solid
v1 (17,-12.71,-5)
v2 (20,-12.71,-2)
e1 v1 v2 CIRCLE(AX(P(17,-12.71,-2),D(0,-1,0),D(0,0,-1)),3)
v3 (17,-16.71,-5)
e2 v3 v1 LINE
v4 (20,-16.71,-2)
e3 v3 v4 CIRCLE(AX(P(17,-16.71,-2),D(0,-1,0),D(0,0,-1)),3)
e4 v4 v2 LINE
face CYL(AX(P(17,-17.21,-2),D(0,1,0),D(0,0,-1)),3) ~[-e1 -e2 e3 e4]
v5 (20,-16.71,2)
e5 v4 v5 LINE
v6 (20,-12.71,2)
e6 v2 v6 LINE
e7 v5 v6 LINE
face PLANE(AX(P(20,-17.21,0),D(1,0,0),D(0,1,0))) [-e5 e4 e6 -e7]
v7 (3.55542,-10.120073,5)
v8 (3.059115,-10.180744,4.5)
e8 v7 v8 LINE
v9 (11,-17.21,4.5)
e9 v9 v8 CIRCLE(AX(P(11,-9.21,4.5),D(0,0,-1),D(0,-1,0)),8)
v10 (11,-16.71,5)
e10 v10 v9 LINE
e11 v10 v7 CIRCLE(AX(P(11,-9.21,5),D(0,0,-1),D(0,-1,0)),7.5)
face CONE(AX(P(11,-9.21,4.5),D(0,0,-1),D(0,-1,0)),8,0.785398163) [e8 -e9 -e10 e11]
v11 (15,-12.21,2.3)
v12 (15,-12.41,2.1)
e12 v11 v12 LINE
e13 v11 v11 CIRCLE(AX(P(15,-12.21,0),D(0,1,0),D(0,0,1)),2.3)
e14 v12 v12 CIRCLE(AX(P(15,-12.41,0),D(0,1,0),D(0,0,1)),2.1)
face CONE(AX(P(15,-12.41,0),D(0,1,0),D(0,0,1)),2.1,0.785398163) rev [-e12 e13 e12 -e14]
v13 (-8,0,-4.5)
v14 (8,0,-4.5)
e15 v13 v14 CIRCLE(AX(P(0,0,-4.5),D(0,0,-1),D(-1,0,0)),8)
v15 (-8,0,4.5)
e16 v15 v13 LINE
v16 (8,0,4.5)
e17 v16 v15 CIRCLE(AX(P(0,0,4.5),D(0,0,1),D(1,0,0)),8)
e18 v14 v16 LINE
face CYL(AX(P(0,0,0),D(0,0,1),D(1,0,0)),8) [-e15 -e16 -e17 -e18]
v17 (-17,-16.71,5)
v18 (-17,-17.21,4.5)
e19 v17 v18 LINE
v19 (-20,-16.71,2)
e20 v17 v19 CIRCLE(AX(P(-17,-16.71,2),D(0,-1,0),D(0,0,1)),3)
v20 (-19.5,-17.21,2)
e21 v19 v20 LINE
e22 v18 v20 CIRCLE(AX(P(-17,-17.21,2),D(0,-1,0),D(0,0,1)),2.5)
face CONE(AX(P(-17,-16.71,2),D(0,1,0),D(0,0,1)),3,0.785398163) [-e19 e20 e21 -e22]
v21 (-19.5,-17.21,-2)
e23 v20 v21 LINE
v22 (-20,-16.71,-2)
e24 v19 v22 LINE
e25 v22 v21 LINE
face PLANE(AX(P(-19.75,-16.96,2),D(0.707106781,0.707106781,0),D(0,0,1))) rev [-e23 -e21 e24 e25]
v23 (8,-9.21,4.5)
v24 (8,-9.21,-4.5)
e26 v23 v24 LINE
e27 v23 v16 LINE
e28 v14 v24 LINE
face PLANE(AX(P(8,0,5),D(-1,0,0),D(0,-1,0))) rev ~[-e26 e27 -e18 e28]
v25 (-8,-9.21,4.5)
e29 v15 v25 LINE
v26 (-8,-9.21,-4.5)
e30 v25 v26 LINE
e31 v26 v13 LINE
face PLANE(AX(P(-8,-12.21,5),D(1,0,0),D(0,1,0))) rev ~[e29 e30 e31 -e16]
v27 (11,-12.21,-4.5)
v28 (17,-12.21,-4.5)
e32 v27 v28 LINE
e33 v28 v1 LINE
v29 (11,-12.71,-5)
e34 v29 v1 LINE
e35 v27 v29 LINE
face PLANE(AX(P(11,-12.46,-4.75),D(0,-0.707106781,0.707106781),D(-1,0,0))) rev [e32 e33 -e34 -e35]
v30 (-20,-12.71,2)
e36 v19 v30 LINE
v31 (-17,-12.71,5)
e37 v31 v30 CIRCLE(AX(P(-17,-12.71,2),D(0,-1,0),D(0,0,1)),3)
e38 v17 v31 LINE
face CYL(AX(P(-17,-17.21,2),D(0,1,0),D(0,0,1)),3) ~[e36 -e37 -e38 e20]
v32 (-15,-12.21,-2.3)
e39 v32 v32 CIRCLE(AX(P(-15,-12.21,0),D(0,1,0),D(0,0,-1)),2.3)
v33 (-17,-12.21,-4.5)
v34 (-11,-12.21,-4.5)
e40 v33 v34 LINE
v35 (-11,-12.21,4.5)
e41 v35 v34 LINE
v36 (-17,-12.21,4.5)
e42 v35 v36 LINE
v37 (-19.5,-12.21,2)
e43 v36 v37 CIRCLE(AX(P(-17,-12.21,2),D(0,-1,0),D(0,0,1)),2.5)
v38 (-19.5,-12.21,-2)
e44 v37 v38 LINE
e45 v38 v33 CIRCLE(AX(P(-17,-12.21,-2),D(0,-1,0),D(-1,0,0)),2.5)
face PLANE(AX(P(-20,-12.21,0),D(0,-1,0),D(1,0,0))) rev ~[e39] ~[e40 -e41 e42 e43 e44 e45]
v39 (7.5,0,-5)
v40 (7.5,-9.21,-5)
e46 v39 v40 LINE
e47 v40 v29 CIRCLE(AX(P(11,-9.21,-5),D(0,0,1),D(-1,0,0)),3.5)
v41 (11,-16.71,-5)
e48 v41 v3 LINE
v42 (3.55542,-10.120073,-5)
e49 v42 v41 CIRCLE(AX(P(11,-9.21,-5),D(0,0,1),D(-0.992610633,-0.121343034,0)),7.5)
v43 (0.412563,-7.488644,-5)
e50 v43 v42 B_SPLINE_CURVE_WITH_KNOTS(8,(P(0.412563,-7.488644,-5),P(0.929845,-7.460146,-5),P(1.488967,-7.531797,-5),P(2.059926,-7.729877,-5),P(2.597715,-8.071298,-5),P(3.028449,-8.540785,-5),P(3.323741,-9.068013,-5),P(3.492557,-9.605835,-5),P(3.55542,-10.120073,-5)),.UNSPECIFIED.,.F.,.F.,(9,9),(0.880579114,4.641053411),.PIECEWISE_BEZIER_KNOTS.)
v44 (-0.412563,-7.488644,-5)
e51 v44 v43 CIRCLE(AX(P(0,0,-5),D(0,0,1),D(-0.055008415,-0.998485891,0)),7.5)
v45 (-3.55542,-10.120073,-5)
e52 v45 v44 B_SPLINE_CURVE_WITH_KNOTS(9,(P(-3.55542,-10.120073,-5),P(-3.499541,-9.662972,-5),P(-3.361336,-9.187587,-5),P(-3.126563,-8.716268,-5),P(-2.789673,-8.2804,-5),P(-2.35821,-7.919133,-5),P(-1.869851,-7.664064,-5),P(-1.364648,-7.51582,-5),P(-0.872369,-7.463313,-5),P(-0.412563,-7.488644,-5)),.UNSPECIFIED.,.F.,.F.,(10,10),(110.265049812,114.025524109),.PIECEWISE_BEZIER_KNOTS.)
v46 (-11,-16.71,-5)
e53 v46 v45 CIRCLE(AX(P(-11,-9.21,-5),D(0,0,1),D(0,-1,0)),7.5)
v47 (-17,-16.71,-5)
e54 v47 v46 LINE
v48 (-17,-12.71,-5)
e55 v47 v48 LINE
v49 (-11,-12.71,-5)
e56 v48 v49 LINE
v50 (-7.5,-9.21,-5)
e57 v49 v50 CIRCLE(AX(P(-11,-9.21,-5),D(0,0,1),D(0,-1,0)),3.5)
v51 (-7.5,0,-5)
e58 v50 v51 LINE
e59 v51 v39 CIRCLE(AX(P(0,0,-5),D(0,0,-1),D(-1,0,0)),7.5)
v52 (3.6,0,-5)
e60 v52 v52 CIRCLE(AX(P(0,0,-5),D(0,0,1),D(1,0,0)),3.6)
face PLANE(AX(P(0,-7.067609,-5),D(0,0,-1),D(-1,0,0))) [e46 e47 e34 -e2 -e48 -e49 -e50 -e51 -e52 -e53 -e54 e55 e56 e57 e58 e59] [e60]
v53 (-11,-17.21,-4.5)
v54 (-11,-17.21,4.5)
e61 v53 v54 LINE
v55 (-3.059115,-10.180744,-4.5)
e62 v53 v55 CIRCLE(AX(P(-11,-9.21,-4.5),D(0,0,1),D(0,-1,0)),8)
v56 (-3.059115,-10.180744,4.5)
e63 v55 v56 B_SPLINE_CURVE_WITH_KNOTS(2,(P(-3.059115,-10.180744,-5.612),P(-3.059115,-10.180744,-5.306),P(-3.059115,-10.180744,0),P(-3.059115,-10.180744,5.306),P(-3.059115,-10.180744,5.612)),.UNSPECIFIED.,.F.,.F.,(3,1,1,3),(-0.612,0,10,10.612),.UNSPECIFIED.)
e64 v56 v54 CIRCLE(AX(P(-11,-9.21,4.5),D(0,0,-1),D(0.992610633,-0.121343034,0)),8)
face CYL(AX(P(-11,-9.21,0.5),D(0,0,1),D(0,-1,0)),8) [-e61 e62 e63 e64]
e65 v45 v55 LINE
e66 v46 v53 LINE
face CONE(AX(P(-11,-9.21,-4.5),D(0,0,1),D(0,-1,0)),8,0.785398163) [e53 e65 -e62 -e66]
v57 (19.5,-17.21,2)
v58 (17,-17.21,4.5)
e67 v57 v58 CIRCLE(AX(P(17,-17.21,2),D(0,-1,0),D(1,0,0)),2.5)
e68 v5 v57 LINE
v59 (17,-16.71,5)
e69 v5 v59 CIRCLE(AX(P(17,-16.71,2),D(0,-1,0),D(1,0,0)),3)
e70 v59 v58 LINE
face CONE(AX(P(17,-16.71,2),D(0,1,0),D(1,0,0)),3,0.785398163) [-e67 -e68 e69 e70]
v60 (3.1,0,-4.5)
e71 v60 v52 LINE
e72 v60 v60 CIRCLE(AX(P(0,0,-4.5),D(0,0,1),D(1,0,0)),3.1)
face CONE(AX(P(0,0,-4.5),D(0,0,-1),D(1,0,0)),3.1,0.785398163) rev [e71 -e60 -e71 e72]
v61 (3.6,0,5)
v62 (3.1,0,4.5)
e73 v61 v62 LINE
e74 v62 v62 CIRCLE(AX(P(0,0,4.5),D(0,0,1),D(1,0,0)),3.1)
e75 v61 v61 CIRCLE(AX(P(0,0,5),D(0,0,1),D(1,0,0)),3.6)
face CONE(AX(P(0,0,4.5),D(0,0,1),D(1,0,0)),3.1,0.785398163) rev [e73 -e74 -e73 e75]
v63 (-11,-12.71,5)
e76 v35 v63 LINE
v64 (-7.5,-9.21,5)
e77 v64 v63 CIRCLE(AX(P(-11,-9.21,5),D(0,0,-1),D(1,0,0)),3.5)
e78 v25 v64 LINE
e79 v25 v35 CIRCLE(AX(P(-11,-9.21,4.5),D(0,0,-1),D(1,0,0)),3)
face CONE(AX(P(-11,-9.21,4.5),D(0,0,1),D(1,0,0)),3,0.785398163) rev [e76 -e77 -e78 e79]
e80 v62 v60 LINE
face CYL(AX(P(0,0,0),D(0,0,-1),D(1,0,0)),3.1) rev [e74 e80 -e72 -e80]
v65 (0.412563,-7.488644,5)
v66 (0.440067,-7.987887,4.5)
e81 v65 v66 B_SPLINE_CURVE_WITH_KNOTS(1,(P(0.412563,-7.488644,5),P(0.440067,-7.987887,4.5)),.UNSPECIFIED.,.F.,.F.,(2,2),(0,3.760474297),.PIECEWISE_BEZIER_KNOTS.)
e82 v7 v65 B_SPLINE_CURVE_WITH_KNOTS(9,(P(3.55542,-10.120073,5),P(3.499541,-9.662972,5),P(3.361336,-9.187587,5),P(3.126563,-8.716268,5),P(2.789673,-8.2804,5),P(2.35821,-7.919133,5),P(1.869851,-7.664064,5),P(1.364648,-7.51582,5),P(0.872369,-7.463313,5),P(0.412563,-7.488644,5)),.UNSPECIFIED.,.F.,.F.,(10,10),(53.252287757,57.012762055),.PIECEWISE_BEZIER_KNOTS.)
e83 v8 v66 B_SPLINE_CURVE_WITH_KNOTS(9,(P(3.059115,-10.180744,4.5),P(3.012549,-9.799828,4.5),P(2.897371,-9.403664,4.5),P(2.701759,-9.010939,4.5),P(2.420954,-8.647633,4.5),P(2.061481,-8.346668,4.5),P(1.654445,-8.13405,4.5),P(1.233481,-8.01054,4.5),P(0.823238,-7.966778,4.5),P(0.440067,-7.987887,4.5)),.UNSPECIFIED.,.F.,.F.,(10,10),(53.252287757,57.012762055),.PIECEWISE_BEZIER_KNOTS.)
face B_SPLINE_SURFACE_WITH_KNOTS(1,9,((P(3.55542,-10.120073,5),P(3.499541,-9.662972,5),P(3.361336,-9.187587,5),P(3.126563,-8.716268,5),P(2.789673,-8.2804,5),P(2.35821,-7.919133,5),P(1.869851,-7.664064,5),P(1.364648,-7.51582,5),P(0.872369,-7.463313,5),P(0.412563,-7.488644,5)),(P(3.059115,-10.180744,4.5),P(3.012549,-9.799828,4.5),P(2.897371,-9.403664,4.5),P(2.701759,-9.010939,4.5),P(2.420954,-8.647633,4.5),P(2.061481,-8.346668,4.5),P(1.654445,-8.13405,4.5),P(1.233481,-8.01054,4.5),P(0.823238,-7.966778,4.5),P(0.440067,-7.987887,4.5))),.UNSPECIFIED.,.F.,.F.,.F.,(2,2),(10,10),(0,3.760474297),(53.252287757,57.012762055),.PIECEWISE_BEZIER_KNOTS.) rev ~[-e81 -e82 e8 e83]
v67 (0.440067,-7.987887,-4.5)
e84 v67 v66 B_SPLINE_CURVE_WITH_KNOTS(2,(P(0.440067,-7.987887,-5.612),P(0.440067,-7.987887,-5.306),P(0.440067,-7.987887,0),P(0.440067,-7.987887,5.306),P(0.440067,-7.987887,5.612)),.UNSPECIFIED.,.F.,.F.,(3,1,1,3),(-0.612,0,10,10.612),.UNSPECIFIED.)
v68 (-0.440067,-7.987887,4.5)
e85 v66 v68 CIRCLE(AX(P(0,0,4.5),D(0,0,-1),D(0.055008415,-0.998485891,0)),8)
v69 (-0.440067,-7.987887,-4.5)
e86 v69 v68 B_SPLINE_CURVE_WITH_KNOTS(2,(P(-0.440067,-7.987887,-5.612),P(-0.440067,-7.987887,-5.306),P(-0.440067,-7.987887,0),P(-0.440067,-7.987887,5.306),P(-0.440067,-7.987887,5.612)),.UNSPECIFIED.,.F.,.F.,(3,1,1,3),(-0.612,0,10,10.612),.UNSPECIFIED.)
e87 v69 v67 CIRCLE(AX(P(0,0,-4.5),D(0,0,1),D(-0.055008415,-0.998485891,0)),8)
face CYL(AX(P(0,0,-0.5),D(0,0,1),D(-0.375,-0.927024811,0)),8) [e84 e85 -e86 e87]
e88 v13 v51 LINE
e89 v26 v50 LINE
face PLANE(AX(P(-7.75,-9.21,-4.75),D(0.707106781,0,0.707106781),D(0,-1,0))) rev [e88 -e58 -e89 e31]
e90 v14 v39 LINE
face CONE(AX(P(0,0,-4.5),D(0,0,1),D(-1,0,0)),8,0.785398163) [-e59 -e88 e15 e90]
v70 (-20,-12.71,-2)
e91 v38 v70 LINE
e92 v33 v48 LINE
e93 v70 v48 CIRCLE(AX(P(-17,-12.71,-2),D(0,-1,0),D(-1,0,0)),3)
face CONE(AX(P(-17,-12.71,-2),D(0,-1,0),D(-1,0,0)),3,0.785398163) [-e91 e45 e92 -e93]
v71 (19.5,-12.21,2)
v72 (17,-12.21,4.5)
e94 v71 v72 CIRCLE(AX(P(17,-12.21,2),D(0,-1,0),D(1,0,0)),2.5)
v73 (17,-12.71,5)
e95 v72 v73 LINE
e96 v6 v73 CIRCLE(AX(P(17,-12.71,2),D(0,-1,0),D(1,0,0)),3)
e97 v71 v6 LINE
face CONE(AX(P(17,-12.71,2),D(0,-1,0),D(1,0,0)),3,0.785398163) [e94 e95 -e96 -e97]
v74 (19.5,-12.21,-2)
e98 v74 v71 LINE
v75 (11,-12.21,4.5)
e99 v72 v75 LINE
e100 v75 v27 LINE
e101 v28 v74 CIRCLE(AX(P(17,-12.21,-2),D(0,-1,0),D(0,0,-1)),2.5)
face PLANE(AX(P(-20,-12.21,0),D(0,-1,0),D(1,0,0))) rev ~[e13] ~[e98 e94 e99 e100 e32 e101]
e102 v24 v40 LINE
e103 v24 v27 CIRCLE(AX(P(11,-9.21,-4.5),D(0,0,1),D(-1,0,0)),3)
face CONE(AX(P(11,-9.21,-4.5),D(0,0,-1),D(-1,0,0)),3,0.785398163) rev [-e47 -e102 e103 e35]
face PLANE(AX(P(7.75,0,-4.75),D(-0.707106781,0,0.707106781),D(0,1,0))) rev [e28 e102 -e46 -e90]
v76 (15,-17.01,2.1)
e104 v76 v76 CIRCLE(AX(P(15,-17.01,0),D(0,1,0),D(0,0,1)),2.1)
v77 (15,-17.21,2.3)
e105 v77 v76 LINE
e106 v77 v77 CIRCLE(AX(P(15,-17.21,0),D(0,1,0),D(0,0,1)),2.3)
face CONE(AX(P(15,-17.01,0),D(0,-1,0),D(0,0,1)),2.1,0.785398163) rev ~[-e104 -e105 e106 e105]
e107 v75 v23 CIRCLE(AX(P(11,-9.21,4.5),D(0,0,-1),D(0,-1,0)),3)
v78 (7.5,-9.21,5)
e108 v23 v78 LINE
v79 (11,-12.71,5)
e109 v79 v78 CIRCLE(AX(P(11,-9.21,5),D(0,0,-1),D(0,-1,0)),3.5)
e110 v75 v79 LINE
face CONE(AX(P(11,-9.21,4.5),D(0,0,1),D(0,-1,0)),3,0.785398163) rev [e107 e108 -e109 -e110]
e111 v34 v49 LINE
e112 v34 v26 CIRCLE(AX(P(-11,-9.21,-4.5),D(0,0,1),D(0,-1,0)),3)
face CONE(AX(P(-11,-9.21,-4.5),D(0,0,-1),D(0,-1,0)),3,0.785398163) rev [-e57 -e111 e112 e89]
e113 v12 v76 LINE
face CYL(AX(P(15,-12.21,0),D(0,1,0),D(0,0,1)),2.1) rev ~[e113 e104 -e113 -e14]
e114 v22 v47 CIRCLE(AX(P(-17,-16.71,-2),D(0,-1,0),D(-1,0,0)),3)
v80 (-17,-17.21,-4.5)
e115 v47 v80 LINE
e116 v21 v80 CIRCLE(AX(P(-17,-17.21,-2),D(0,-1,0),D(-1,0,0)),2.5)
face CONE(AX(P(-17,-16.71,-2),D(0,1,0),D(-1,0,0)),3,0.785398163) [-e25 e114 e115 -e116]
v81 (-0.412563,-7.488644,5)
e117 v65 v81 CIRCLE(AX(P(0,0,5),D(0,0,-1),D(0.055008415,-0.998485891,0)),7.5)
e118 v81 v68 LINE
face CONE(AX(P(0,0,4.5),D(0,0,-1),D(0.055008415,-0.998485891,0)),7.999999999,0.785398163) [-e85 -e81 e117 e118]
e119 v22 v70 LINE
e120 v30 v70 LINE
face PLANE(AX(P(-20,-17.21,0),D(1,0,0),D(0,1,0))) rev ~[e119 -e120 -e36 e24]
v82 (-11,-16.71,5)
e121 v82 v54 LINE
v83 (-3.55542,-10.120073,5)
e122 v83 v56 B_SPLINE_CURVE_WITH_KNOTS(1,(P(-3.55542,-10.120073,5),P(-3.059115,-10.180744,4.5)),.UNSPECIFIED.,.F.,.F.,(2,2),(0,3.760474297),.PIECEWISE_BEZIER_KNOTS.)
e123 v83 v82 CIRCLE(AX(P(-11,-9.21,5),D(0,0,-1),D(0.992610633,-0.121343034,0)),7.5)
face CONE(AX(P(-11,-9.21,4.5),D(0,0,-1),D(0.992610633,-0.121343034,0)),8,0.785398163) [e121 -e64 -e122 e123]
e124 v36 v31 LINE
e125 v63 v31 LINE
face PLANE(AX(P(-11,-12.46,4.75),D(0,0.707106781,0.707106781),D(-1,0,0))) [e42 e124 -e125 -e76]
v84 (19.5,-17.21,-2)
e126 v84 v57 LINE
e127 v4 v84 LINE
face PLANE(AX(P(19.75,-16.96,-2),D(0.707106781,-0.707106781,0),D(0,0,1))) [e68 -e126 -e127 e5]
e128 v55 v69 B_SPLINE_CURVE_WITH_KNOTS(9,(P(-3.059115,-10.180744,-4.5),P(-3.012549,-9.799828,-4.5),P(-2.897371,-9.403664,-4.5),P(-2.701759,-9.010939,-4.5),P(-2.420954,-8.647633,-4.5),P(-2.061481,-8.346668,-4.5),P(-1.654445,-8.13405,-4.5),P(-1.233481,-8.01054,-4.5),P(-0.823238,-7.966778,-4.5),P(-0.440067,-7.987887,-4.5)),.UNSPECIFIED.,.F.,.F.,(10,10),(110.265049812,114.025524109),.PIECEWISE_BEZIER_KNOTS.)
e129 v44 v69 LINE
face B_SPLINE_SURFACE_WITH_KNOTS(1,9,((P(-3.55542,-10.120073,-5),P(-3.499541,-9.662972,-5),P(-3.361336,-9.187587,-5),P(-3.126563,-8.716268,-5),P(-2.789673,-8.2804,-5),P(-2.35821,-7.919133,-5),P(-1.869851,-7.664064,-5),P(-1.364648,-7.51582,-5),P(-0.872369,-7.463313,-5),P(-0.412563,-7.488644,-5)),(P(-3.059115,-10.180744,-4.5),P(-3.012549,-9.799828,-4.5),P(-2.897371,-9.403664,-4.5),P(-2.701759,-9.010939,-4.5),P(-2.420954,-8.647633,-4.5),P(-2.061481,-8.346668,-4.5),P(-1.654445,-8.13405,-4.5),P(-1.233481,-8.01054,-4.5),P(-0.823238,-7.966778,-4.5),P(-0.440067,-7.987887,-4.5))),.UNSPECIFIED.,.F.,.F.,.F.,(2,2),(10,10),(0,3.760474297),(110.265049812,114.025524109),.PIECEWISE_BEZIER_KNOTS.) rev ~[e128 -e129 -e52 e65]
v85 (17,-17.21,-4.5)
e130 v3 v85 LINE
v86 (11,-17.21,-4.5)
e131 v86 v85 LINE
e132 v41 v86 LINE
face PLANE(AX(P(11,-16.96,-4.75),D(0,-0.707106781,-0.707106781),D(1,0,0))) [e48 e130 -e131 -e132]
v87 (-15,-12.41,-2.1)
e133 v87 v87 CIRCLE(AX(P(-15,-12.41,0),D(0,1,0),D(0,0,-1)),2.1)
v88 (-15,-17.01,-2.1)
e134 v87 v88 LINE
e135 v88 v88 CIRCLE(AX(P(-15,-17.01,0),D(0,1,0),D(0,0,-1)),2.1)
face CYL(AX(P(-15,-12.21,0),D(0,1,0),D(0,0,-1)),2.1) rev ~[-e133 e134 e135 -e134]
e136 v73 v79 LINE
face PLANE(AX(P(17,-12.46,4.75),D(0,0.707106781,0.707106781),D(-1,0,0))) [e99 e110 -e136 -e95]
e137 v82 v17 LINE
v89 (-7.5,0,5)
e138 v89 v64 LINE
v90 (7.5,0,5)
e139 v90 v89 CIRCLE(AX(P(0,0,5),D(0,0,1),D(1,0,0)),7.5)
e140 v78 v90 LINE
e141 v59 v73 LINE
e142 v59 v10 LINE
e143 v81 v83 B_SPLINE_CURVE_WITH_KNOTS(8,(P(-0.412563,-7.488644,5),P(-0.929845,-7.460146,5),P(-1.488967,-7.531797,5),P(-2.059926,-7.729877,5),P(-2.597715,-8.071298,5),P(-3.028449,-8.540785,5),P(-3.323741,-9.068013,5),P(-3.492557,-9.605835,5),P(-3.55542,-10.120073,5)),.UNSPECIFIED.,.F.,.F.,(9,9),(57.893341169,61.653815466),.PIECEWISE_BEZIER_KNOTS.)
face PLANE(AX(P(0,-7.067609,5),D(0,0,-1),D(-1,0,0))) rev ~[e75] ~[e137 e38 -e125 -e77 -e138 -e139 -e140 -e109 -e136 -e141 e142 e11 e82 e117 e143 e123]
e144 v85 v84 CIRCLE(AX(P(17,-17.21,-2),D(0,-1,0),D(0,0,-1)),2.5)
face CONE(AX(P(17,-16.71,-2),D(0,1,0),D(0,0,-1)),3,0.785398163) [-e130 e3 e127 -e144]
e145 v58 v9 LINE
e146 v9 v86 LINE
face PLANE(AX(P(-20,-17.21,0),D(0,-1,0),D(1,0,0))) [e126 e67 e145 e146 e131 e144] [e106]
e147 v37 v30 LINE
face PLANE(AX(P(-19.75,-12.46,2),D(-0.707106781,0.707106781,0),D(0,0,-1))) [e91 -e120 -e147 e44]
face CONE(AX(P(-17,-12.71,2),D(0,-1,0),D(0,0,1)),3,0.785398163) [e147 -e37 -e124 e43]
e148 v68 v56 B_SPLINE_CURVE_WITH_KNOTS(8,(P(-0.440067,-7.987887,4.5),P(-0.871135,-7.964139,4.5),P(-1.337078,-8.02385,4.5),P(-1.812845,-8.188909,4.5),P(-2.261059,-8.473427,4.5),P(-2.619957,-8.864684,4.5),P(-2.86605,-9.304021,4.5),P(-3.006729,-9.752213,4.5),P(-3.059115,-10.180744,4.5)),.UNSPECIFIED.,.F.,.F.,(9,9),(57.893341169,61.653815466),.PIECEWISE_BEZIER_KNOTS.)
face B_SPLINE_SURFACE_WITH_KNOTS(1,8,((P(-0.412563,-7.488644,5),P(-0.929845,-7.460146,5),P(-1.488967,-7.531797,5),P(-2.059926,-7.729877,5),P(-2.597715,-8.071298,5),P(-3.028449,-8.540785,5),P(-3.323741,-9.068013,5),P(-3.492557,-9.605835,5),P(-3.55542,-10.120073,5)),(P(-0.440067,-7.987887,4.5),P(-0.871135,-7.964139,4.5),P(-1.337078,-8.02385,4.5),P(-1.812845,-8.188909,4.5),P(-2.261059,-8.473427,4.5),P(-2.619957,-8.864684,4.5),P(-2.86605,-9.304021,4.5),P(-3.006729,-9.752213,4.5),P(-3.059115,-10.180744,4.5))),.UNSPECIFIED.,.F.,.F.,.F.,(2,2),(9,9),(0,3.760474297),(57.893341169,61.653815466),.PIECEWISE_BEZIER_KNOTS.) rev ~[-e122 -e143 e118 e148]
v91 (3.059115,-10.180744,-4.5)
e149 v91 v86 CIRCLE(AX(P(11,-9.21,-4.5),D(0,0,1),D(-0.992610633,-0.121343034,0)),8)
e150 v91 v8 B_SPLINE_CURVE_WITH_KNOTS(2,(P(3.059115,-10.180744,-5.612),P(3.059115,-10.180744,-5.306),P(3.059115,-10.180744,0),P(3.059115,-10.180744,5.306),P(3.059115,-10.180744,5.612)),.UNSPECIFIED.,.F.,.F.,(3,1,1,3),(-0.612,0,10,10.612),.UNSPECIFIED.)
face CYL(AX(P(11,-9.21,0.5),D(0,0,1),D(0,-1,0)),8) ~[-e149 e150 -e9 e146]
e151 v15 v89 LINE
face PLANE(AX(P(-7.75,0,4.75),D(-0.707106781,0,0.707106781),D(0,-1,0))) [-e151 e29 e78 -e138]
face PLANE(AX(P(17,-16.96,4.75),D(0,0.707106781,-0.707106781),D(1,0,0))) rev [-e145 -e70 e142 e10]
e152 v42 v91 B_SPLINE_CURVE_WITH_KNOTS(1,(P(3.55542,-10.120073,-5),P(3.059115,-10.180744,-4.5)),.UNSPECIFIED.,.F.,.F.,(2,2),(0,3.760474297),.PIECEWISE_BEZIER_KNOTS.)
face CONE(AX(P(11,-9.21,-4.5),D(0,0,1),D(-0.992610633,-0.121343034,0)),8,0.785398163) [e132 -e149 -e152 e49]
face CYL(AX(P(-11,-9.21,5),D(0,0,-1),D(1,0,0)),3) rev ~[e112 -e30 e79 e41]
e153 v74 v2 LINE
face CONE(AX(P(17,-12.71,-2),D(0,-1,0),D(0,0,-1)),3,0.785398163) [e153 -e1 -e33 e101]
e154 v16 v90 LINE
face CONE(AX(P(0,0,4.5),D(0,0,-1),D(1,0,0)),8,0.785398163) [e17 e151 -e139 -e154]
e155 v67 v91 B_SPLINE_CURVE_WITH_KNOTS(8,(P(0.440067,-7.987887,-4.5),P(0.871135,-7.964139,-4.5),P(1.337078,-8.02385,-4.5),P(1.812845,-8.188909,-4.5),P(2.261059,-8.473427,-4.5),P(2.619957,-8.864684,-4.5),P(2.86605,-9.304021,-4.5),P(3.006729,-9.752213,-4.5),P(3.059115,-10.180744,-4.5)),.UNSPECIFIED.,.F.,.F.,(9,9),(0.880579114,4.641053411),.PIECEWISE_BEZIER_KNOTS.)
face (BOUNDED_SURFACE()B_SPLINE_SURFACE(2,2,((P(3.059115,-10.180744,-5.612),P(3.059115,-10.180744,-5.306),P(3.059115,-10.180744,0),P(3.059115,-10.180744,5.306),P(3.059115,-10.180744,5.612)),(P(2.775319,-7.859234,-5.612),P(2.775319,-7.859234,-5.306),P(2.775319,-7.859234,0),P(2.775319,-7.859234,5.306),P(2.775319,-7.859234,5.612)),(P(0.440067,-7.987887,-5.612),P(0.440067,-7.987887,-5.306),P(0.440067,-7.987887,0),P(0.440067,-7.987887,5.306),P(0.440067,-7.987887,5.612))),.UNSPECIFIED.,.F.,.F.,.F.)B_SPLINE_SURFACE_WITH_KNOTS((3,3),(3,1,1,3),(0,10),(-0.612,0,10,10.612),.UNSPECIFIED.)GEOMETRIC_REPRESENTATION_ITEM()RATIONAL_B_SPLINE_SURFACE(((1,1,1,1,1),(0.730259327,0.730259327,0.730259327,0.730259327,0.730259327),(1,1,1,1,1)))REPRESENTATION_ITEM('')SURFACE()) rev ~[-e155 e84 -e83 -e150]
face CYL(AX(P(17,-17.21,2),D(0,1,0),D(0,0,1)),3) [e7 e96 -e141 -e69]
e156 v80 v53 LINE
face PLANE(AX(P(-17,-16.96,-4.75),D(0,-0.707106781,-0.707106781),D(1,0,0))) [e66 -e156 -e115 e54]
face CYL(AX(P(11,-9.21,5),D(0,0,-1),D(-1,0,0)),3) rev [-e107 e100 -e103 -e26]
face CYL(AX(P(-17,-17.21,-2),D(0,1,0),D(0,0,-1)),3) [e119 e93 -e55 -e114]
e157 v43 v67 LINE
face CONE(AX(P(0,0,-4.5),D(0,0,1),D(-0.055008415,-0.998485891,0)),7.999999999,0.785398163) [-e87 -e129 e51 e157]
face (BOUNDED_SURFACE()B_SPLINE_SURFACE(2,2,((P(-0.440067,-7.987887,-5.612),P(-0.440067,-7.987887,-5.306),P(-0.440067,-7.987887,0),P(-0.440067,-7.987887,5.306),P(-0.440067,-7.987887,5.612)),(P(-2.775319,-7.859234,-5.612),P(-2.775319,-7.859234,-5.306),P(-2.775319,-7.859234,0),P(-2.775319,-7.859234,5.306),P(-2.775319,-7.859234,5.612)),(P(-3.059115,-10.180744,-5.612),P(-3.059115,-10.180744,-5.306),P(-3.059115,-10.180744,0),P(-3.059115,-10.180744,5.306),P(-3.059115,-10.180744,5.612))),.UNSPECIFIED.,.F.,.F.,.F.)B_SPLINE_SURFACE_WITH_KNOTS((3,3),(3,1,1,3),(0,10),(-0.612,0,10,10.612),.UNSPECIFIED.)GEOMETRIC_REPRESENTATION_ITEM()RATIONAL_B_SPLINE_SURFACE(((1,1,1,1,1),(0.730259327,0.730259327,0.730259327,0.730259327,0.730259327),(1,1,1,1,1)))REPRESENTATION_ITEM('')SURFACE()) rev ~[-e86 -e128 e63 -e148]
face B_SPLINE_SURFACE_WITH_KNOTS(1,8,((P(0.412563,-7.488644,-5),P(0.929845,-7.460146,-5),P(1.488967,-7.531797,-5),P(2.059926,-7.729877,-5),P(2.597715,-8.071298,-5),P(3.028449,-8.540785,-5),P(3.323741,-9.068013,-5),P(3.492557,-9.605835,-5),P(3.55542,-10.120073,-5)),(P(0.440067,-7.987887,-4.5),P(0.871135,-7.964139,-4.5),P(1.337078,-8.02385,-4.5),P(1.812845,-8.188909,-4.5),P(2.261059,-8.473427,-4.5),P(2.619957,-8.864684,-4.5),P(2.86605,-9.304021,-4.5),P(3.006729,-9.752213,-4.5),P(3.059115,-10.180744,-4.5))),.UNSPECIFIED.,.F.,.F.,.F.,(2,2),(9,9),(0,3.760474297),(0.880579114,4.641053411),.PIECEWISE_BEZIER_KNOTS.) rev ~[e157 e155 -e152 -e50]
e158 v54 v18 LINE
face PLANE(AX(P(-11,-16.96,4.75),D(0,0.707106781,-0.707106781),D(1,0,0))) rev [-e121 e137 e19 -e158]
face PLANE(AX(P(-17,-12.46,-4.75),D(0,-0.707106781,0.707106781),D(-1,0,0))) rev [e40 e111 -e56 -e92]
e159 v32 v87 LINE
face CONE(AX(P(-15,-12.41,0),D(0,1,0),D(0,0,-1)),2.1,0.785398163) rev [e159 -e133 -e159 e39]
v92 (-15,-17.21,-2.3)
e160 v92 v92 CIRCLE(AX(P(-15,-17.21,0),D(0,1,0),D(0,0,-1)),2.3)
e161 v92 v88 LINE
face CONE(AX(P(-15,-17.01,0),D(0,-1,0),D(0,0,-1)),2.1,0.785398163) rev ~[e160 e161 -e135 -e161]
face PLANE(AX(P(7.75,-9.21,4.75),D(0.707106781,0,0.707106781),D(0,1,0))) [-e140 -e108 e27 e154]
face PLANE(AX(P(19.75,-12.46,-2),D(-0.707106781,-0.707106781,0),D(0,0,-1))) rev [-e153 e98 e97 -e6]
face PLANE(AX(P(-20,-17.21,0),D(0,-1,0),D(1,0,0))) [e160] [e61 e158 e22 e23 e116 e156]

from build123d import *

# Parameters (mm, degrees)
SKETCH_1_R        = 8
SKETCH_1_R_2      = 3.1
EXTRUDE_1_DEPTH   = 5
SKETCH_1_W        = 40
SKETCH_1_H        = 5
EXTRUDE_1_2_DEPTH = 5
CHAMFER_7_SIZE    = 0.5
EXTRUDE1_START    = -10
EXTRUDE1_DEPTH    = 10
FILLET1_R         = 3
EXTRUDE2_START    = -4.5
EXTRUDE2_DEPTH    = 4.5
FILLET2_R         = 8
SKETCH3_R         = 2.1
EXTRUDE3_DEPTH    = 29.869431931
CHAMFER2_SIZE     = 0.2
EXTRUDE4_DEPTH    = 27.952441448
FILLET3_R         = 2.5
FILLET4_R         = 3
CHAMFER4_SIZE     = 0.5


with BuildPart() as part:
    # 草图1 → 凸台-拉伸1 (new, symmetric)
    with BuildSketch(Plane.XY):
        Circle(SKETCH_1_R)
        Circle(SKETCH_1_R_2, mode=Mode.SUBTRACT)
    extrude(amount=EXTRUDE_1_DEPTH, both=True)

    # 倒角7
    chamfer_7_edges = [part.edges().sort_by_distance(p)[0] for p in [
        (-3.1, 0, -5),
        (-3.1, 0, 5),
    ]]
    chamfer(chamfer_7_edges, length=CHAMFER_7_SIZE)



with BuildPart() as body_2:
    # 草图1 → Extrude 1 2 (new, symmetric)
    with BuildSketch(Plane.XY):
        with Locations((0, -14.71)):
            Rectangle(SKETCH_1_W, SKETCH_1_H)
    extrude(amount=EXTRUDE_1_2_DEPTH, both=True)


with BuildPart() as part_1:
    add(part.part)

    add(body_2.part)  # Extrude1 merges body 2
    # Sketch1 → Extrude1 (add)
    with BuildSketch(Plane(origin=(0, 0, -5), x_dir=(-1, 0, 0), z_dir=(0, 0, -1)).offset(EXTRUDE1_START)):
        with BuildLine():
            ThreePointArc((8, 0), (0, -8), (-8, 0))
            Line((-8, 0), (-8, -12.21))
            Line((-8, -12.21), (8, -12.21))
            Line((8, -12.21), (8, 0))
        make_face()
    extrude(amount=EXTRUDE1_DEPTH)

    # Fillet1
    fillet1_edges = [part_1.edges().sort_by_distance(p)[0] for p in [
        (8, -12.21, 0),
        (-8, -12.21, 0),
    ]]
    fillet(fillet1_edges, radius=FILLET1_R)

    # Sketch2 → Extrude2 (cut)
    with BuildSketch(Plane(origin=(0, 0, -5), x_dir=(-1, 0, 0), z_dir=(0, 0, -1)).offset(EXTRUDE2_START)):
        with BuildLine():
            ThreePointArc((3, -7.416198487), (0, -8), (-3, -7.416198487))
            Line((-3, -7.416198487), (-3, -17.21))
            Line((-3, -17.21), (3, -17.21))
            Line((3, -17.21), (3, -7.416198487))
        make_face()
    extrude2 = extrude(amount=EXTRUDE2_DEPTH, mode=Mode.SUBTRACT)

    # Mirror1: Extrude2 across plane
    add(extrude2.mirror(Plane.XY), mode=Mode.SUBTRACT)

    # Fillet2
    fillet2_edges = [part_1.edges().sort_by_distance(p)[0] for p in [
        (-3, -17.21, -2.75),
        (3, -17.21, -2.75),
        (3, -17.21, 2.75),
        (-3, -17.21, 2.75),
    ]]
    fillet(fillet2_edges, radius=FILLET2_R)

    # Sketch3 → Extrude3 (cut, through all)
    with BuildSketch(Plane(origin=(0, -12.21, 0), x_dir=(1, 0, 0), z_dir=(0, 1, 0))):
        with Locations(Location((15, 0, 0), (0, 0, 270))):
            Circle(SKETCH3_R)
        with Locations(Location((-15, 0, 0), (0, 0, 90))):
            Circle(SKETCH3_R)
    extrude(amount=-EXTRUDE3_DEPTH, mode=Mode.SUBTRACT)

    # Chamfer2
    chamfer2_edges = [part_1.edges().sort_by_distance(p)[0] for p in [
        (15, -17.21, -2.1),
        (15, -12.21, -2.1),
        (-15, -17.21, 2.1),
        (-15, -12.21, 2.1),
    ]]
    chamfer(chamfer2_edges, length=CHAMFER2_SIZE)

    # Sketch4 → Extrude4 (cut, through all)
    with BuildSketch(Plane(origin=(0, 0, -0.5), x_dir=(-1, 0, 0), z_dir=(0, 0, -1))):
        with BuildLine():
            Line((-11, -17.21), (11, -17.21))
            ThreePointArc((11, -17.21), (5.343145751, -14.866854249), (3, -9.21))
            Line((3, -9.21), (3, -7.416198487))
            ThreePointArc((3, -7.416198487), (0, -8), (-3, -7.416198487))
            Line((-3, -7.416198487), (-3, -9.21))
            ThreePointArc((-3, -9.21), (-5.343145751, -14.866854249), (-11, -17.21))
        make_face()
    extrude(amount=-EXTRUDE4_DEPTH, mode=Mode.SUBTRACT)

    # Fillet3
    fillet3_edges = [part_1.edges().sort_by_distance(p)[0] for p in [
        (-3, -7.416198487, 0),
        (3, -7.416198487, 0),
    ]]
    fillet(fillet3_edges, radius=FILLET3_R)

    # Fillet4
    fillet4_edges = [part_1.edges().sort_by_distance(p)[0] for p in [
        (20, -14.71, -5),
        (-20, -14.71, 5),
        (20, -14.71, 5),
        (-20, -14.71, -5),
    ]]
    fillet(fillet4_edges, radius=FILLET4_R)

    # Chamfer4
    chamfer4_edges = [part_1.edges().sort_by_distance(p)[0] for p in [
        (0, 8, 5),
        (0, -8, -5),
        (8, -4.605, -5),
        (0, -8, 5),
        (-5.697451281, -15.200240152, -5),
        (5.697451281, -15.200240152, 5),
        (-2.182501473, -8.567267514, -5),
        (-2.182501473, -8.567267514, 5),
        (8, -4.605, 5),
        (2.182501473, -8.567267514, -5),
        (2.182501473, -8.567267514, 5),
        (-14, -17.21, -5),
        (-14, -12.21, -5),
        (-14, -12.21, 5),
        (-20, -12.21, 0),
        (-19.121320344, -12.21, 4.121320344),
        (-19.121320344, -12.21, -4.121320344),
        (-20, -17.21, 0),
        (-14, -17.21, 5),
        (-19.121320344, -17.21, 4.121320344),
        (-19.121320344, -17.21, -4.121320344),
        (20, -12.21, 0),
        (20, -17.21, 0),
        (19.121320344, -12.21, 4.121320344),
        (19.121320344, -12.21, -4.121320344),
        (19.121320344, -17.21, 4.121320344),
        (19.121320344, -17.21, -4.121320344),
        (0, 8, -5),
        (-8, -4.605, 5),
        (-8, -4.605, -5),
        (14, -12.21, 5),
        (14, -12.21, -5),
        (-8.878679656, -11.331320344, -5),
        (-8.878679656, -11.331320344, 5),
        (8.878679656, -11.331320344, -5),
        (8.878679656, -11.331320344, 5),
        (14, -17.21, -5),
        (14, -17.21, 5),
        (-5.697451281, -15.200240152, 5),
        (5.697451281, -15.200240152, -5),
    ]]
    chamfer(chamfer4_edges, length=CHAMFER4_SIZE)


solid = part_1.part
